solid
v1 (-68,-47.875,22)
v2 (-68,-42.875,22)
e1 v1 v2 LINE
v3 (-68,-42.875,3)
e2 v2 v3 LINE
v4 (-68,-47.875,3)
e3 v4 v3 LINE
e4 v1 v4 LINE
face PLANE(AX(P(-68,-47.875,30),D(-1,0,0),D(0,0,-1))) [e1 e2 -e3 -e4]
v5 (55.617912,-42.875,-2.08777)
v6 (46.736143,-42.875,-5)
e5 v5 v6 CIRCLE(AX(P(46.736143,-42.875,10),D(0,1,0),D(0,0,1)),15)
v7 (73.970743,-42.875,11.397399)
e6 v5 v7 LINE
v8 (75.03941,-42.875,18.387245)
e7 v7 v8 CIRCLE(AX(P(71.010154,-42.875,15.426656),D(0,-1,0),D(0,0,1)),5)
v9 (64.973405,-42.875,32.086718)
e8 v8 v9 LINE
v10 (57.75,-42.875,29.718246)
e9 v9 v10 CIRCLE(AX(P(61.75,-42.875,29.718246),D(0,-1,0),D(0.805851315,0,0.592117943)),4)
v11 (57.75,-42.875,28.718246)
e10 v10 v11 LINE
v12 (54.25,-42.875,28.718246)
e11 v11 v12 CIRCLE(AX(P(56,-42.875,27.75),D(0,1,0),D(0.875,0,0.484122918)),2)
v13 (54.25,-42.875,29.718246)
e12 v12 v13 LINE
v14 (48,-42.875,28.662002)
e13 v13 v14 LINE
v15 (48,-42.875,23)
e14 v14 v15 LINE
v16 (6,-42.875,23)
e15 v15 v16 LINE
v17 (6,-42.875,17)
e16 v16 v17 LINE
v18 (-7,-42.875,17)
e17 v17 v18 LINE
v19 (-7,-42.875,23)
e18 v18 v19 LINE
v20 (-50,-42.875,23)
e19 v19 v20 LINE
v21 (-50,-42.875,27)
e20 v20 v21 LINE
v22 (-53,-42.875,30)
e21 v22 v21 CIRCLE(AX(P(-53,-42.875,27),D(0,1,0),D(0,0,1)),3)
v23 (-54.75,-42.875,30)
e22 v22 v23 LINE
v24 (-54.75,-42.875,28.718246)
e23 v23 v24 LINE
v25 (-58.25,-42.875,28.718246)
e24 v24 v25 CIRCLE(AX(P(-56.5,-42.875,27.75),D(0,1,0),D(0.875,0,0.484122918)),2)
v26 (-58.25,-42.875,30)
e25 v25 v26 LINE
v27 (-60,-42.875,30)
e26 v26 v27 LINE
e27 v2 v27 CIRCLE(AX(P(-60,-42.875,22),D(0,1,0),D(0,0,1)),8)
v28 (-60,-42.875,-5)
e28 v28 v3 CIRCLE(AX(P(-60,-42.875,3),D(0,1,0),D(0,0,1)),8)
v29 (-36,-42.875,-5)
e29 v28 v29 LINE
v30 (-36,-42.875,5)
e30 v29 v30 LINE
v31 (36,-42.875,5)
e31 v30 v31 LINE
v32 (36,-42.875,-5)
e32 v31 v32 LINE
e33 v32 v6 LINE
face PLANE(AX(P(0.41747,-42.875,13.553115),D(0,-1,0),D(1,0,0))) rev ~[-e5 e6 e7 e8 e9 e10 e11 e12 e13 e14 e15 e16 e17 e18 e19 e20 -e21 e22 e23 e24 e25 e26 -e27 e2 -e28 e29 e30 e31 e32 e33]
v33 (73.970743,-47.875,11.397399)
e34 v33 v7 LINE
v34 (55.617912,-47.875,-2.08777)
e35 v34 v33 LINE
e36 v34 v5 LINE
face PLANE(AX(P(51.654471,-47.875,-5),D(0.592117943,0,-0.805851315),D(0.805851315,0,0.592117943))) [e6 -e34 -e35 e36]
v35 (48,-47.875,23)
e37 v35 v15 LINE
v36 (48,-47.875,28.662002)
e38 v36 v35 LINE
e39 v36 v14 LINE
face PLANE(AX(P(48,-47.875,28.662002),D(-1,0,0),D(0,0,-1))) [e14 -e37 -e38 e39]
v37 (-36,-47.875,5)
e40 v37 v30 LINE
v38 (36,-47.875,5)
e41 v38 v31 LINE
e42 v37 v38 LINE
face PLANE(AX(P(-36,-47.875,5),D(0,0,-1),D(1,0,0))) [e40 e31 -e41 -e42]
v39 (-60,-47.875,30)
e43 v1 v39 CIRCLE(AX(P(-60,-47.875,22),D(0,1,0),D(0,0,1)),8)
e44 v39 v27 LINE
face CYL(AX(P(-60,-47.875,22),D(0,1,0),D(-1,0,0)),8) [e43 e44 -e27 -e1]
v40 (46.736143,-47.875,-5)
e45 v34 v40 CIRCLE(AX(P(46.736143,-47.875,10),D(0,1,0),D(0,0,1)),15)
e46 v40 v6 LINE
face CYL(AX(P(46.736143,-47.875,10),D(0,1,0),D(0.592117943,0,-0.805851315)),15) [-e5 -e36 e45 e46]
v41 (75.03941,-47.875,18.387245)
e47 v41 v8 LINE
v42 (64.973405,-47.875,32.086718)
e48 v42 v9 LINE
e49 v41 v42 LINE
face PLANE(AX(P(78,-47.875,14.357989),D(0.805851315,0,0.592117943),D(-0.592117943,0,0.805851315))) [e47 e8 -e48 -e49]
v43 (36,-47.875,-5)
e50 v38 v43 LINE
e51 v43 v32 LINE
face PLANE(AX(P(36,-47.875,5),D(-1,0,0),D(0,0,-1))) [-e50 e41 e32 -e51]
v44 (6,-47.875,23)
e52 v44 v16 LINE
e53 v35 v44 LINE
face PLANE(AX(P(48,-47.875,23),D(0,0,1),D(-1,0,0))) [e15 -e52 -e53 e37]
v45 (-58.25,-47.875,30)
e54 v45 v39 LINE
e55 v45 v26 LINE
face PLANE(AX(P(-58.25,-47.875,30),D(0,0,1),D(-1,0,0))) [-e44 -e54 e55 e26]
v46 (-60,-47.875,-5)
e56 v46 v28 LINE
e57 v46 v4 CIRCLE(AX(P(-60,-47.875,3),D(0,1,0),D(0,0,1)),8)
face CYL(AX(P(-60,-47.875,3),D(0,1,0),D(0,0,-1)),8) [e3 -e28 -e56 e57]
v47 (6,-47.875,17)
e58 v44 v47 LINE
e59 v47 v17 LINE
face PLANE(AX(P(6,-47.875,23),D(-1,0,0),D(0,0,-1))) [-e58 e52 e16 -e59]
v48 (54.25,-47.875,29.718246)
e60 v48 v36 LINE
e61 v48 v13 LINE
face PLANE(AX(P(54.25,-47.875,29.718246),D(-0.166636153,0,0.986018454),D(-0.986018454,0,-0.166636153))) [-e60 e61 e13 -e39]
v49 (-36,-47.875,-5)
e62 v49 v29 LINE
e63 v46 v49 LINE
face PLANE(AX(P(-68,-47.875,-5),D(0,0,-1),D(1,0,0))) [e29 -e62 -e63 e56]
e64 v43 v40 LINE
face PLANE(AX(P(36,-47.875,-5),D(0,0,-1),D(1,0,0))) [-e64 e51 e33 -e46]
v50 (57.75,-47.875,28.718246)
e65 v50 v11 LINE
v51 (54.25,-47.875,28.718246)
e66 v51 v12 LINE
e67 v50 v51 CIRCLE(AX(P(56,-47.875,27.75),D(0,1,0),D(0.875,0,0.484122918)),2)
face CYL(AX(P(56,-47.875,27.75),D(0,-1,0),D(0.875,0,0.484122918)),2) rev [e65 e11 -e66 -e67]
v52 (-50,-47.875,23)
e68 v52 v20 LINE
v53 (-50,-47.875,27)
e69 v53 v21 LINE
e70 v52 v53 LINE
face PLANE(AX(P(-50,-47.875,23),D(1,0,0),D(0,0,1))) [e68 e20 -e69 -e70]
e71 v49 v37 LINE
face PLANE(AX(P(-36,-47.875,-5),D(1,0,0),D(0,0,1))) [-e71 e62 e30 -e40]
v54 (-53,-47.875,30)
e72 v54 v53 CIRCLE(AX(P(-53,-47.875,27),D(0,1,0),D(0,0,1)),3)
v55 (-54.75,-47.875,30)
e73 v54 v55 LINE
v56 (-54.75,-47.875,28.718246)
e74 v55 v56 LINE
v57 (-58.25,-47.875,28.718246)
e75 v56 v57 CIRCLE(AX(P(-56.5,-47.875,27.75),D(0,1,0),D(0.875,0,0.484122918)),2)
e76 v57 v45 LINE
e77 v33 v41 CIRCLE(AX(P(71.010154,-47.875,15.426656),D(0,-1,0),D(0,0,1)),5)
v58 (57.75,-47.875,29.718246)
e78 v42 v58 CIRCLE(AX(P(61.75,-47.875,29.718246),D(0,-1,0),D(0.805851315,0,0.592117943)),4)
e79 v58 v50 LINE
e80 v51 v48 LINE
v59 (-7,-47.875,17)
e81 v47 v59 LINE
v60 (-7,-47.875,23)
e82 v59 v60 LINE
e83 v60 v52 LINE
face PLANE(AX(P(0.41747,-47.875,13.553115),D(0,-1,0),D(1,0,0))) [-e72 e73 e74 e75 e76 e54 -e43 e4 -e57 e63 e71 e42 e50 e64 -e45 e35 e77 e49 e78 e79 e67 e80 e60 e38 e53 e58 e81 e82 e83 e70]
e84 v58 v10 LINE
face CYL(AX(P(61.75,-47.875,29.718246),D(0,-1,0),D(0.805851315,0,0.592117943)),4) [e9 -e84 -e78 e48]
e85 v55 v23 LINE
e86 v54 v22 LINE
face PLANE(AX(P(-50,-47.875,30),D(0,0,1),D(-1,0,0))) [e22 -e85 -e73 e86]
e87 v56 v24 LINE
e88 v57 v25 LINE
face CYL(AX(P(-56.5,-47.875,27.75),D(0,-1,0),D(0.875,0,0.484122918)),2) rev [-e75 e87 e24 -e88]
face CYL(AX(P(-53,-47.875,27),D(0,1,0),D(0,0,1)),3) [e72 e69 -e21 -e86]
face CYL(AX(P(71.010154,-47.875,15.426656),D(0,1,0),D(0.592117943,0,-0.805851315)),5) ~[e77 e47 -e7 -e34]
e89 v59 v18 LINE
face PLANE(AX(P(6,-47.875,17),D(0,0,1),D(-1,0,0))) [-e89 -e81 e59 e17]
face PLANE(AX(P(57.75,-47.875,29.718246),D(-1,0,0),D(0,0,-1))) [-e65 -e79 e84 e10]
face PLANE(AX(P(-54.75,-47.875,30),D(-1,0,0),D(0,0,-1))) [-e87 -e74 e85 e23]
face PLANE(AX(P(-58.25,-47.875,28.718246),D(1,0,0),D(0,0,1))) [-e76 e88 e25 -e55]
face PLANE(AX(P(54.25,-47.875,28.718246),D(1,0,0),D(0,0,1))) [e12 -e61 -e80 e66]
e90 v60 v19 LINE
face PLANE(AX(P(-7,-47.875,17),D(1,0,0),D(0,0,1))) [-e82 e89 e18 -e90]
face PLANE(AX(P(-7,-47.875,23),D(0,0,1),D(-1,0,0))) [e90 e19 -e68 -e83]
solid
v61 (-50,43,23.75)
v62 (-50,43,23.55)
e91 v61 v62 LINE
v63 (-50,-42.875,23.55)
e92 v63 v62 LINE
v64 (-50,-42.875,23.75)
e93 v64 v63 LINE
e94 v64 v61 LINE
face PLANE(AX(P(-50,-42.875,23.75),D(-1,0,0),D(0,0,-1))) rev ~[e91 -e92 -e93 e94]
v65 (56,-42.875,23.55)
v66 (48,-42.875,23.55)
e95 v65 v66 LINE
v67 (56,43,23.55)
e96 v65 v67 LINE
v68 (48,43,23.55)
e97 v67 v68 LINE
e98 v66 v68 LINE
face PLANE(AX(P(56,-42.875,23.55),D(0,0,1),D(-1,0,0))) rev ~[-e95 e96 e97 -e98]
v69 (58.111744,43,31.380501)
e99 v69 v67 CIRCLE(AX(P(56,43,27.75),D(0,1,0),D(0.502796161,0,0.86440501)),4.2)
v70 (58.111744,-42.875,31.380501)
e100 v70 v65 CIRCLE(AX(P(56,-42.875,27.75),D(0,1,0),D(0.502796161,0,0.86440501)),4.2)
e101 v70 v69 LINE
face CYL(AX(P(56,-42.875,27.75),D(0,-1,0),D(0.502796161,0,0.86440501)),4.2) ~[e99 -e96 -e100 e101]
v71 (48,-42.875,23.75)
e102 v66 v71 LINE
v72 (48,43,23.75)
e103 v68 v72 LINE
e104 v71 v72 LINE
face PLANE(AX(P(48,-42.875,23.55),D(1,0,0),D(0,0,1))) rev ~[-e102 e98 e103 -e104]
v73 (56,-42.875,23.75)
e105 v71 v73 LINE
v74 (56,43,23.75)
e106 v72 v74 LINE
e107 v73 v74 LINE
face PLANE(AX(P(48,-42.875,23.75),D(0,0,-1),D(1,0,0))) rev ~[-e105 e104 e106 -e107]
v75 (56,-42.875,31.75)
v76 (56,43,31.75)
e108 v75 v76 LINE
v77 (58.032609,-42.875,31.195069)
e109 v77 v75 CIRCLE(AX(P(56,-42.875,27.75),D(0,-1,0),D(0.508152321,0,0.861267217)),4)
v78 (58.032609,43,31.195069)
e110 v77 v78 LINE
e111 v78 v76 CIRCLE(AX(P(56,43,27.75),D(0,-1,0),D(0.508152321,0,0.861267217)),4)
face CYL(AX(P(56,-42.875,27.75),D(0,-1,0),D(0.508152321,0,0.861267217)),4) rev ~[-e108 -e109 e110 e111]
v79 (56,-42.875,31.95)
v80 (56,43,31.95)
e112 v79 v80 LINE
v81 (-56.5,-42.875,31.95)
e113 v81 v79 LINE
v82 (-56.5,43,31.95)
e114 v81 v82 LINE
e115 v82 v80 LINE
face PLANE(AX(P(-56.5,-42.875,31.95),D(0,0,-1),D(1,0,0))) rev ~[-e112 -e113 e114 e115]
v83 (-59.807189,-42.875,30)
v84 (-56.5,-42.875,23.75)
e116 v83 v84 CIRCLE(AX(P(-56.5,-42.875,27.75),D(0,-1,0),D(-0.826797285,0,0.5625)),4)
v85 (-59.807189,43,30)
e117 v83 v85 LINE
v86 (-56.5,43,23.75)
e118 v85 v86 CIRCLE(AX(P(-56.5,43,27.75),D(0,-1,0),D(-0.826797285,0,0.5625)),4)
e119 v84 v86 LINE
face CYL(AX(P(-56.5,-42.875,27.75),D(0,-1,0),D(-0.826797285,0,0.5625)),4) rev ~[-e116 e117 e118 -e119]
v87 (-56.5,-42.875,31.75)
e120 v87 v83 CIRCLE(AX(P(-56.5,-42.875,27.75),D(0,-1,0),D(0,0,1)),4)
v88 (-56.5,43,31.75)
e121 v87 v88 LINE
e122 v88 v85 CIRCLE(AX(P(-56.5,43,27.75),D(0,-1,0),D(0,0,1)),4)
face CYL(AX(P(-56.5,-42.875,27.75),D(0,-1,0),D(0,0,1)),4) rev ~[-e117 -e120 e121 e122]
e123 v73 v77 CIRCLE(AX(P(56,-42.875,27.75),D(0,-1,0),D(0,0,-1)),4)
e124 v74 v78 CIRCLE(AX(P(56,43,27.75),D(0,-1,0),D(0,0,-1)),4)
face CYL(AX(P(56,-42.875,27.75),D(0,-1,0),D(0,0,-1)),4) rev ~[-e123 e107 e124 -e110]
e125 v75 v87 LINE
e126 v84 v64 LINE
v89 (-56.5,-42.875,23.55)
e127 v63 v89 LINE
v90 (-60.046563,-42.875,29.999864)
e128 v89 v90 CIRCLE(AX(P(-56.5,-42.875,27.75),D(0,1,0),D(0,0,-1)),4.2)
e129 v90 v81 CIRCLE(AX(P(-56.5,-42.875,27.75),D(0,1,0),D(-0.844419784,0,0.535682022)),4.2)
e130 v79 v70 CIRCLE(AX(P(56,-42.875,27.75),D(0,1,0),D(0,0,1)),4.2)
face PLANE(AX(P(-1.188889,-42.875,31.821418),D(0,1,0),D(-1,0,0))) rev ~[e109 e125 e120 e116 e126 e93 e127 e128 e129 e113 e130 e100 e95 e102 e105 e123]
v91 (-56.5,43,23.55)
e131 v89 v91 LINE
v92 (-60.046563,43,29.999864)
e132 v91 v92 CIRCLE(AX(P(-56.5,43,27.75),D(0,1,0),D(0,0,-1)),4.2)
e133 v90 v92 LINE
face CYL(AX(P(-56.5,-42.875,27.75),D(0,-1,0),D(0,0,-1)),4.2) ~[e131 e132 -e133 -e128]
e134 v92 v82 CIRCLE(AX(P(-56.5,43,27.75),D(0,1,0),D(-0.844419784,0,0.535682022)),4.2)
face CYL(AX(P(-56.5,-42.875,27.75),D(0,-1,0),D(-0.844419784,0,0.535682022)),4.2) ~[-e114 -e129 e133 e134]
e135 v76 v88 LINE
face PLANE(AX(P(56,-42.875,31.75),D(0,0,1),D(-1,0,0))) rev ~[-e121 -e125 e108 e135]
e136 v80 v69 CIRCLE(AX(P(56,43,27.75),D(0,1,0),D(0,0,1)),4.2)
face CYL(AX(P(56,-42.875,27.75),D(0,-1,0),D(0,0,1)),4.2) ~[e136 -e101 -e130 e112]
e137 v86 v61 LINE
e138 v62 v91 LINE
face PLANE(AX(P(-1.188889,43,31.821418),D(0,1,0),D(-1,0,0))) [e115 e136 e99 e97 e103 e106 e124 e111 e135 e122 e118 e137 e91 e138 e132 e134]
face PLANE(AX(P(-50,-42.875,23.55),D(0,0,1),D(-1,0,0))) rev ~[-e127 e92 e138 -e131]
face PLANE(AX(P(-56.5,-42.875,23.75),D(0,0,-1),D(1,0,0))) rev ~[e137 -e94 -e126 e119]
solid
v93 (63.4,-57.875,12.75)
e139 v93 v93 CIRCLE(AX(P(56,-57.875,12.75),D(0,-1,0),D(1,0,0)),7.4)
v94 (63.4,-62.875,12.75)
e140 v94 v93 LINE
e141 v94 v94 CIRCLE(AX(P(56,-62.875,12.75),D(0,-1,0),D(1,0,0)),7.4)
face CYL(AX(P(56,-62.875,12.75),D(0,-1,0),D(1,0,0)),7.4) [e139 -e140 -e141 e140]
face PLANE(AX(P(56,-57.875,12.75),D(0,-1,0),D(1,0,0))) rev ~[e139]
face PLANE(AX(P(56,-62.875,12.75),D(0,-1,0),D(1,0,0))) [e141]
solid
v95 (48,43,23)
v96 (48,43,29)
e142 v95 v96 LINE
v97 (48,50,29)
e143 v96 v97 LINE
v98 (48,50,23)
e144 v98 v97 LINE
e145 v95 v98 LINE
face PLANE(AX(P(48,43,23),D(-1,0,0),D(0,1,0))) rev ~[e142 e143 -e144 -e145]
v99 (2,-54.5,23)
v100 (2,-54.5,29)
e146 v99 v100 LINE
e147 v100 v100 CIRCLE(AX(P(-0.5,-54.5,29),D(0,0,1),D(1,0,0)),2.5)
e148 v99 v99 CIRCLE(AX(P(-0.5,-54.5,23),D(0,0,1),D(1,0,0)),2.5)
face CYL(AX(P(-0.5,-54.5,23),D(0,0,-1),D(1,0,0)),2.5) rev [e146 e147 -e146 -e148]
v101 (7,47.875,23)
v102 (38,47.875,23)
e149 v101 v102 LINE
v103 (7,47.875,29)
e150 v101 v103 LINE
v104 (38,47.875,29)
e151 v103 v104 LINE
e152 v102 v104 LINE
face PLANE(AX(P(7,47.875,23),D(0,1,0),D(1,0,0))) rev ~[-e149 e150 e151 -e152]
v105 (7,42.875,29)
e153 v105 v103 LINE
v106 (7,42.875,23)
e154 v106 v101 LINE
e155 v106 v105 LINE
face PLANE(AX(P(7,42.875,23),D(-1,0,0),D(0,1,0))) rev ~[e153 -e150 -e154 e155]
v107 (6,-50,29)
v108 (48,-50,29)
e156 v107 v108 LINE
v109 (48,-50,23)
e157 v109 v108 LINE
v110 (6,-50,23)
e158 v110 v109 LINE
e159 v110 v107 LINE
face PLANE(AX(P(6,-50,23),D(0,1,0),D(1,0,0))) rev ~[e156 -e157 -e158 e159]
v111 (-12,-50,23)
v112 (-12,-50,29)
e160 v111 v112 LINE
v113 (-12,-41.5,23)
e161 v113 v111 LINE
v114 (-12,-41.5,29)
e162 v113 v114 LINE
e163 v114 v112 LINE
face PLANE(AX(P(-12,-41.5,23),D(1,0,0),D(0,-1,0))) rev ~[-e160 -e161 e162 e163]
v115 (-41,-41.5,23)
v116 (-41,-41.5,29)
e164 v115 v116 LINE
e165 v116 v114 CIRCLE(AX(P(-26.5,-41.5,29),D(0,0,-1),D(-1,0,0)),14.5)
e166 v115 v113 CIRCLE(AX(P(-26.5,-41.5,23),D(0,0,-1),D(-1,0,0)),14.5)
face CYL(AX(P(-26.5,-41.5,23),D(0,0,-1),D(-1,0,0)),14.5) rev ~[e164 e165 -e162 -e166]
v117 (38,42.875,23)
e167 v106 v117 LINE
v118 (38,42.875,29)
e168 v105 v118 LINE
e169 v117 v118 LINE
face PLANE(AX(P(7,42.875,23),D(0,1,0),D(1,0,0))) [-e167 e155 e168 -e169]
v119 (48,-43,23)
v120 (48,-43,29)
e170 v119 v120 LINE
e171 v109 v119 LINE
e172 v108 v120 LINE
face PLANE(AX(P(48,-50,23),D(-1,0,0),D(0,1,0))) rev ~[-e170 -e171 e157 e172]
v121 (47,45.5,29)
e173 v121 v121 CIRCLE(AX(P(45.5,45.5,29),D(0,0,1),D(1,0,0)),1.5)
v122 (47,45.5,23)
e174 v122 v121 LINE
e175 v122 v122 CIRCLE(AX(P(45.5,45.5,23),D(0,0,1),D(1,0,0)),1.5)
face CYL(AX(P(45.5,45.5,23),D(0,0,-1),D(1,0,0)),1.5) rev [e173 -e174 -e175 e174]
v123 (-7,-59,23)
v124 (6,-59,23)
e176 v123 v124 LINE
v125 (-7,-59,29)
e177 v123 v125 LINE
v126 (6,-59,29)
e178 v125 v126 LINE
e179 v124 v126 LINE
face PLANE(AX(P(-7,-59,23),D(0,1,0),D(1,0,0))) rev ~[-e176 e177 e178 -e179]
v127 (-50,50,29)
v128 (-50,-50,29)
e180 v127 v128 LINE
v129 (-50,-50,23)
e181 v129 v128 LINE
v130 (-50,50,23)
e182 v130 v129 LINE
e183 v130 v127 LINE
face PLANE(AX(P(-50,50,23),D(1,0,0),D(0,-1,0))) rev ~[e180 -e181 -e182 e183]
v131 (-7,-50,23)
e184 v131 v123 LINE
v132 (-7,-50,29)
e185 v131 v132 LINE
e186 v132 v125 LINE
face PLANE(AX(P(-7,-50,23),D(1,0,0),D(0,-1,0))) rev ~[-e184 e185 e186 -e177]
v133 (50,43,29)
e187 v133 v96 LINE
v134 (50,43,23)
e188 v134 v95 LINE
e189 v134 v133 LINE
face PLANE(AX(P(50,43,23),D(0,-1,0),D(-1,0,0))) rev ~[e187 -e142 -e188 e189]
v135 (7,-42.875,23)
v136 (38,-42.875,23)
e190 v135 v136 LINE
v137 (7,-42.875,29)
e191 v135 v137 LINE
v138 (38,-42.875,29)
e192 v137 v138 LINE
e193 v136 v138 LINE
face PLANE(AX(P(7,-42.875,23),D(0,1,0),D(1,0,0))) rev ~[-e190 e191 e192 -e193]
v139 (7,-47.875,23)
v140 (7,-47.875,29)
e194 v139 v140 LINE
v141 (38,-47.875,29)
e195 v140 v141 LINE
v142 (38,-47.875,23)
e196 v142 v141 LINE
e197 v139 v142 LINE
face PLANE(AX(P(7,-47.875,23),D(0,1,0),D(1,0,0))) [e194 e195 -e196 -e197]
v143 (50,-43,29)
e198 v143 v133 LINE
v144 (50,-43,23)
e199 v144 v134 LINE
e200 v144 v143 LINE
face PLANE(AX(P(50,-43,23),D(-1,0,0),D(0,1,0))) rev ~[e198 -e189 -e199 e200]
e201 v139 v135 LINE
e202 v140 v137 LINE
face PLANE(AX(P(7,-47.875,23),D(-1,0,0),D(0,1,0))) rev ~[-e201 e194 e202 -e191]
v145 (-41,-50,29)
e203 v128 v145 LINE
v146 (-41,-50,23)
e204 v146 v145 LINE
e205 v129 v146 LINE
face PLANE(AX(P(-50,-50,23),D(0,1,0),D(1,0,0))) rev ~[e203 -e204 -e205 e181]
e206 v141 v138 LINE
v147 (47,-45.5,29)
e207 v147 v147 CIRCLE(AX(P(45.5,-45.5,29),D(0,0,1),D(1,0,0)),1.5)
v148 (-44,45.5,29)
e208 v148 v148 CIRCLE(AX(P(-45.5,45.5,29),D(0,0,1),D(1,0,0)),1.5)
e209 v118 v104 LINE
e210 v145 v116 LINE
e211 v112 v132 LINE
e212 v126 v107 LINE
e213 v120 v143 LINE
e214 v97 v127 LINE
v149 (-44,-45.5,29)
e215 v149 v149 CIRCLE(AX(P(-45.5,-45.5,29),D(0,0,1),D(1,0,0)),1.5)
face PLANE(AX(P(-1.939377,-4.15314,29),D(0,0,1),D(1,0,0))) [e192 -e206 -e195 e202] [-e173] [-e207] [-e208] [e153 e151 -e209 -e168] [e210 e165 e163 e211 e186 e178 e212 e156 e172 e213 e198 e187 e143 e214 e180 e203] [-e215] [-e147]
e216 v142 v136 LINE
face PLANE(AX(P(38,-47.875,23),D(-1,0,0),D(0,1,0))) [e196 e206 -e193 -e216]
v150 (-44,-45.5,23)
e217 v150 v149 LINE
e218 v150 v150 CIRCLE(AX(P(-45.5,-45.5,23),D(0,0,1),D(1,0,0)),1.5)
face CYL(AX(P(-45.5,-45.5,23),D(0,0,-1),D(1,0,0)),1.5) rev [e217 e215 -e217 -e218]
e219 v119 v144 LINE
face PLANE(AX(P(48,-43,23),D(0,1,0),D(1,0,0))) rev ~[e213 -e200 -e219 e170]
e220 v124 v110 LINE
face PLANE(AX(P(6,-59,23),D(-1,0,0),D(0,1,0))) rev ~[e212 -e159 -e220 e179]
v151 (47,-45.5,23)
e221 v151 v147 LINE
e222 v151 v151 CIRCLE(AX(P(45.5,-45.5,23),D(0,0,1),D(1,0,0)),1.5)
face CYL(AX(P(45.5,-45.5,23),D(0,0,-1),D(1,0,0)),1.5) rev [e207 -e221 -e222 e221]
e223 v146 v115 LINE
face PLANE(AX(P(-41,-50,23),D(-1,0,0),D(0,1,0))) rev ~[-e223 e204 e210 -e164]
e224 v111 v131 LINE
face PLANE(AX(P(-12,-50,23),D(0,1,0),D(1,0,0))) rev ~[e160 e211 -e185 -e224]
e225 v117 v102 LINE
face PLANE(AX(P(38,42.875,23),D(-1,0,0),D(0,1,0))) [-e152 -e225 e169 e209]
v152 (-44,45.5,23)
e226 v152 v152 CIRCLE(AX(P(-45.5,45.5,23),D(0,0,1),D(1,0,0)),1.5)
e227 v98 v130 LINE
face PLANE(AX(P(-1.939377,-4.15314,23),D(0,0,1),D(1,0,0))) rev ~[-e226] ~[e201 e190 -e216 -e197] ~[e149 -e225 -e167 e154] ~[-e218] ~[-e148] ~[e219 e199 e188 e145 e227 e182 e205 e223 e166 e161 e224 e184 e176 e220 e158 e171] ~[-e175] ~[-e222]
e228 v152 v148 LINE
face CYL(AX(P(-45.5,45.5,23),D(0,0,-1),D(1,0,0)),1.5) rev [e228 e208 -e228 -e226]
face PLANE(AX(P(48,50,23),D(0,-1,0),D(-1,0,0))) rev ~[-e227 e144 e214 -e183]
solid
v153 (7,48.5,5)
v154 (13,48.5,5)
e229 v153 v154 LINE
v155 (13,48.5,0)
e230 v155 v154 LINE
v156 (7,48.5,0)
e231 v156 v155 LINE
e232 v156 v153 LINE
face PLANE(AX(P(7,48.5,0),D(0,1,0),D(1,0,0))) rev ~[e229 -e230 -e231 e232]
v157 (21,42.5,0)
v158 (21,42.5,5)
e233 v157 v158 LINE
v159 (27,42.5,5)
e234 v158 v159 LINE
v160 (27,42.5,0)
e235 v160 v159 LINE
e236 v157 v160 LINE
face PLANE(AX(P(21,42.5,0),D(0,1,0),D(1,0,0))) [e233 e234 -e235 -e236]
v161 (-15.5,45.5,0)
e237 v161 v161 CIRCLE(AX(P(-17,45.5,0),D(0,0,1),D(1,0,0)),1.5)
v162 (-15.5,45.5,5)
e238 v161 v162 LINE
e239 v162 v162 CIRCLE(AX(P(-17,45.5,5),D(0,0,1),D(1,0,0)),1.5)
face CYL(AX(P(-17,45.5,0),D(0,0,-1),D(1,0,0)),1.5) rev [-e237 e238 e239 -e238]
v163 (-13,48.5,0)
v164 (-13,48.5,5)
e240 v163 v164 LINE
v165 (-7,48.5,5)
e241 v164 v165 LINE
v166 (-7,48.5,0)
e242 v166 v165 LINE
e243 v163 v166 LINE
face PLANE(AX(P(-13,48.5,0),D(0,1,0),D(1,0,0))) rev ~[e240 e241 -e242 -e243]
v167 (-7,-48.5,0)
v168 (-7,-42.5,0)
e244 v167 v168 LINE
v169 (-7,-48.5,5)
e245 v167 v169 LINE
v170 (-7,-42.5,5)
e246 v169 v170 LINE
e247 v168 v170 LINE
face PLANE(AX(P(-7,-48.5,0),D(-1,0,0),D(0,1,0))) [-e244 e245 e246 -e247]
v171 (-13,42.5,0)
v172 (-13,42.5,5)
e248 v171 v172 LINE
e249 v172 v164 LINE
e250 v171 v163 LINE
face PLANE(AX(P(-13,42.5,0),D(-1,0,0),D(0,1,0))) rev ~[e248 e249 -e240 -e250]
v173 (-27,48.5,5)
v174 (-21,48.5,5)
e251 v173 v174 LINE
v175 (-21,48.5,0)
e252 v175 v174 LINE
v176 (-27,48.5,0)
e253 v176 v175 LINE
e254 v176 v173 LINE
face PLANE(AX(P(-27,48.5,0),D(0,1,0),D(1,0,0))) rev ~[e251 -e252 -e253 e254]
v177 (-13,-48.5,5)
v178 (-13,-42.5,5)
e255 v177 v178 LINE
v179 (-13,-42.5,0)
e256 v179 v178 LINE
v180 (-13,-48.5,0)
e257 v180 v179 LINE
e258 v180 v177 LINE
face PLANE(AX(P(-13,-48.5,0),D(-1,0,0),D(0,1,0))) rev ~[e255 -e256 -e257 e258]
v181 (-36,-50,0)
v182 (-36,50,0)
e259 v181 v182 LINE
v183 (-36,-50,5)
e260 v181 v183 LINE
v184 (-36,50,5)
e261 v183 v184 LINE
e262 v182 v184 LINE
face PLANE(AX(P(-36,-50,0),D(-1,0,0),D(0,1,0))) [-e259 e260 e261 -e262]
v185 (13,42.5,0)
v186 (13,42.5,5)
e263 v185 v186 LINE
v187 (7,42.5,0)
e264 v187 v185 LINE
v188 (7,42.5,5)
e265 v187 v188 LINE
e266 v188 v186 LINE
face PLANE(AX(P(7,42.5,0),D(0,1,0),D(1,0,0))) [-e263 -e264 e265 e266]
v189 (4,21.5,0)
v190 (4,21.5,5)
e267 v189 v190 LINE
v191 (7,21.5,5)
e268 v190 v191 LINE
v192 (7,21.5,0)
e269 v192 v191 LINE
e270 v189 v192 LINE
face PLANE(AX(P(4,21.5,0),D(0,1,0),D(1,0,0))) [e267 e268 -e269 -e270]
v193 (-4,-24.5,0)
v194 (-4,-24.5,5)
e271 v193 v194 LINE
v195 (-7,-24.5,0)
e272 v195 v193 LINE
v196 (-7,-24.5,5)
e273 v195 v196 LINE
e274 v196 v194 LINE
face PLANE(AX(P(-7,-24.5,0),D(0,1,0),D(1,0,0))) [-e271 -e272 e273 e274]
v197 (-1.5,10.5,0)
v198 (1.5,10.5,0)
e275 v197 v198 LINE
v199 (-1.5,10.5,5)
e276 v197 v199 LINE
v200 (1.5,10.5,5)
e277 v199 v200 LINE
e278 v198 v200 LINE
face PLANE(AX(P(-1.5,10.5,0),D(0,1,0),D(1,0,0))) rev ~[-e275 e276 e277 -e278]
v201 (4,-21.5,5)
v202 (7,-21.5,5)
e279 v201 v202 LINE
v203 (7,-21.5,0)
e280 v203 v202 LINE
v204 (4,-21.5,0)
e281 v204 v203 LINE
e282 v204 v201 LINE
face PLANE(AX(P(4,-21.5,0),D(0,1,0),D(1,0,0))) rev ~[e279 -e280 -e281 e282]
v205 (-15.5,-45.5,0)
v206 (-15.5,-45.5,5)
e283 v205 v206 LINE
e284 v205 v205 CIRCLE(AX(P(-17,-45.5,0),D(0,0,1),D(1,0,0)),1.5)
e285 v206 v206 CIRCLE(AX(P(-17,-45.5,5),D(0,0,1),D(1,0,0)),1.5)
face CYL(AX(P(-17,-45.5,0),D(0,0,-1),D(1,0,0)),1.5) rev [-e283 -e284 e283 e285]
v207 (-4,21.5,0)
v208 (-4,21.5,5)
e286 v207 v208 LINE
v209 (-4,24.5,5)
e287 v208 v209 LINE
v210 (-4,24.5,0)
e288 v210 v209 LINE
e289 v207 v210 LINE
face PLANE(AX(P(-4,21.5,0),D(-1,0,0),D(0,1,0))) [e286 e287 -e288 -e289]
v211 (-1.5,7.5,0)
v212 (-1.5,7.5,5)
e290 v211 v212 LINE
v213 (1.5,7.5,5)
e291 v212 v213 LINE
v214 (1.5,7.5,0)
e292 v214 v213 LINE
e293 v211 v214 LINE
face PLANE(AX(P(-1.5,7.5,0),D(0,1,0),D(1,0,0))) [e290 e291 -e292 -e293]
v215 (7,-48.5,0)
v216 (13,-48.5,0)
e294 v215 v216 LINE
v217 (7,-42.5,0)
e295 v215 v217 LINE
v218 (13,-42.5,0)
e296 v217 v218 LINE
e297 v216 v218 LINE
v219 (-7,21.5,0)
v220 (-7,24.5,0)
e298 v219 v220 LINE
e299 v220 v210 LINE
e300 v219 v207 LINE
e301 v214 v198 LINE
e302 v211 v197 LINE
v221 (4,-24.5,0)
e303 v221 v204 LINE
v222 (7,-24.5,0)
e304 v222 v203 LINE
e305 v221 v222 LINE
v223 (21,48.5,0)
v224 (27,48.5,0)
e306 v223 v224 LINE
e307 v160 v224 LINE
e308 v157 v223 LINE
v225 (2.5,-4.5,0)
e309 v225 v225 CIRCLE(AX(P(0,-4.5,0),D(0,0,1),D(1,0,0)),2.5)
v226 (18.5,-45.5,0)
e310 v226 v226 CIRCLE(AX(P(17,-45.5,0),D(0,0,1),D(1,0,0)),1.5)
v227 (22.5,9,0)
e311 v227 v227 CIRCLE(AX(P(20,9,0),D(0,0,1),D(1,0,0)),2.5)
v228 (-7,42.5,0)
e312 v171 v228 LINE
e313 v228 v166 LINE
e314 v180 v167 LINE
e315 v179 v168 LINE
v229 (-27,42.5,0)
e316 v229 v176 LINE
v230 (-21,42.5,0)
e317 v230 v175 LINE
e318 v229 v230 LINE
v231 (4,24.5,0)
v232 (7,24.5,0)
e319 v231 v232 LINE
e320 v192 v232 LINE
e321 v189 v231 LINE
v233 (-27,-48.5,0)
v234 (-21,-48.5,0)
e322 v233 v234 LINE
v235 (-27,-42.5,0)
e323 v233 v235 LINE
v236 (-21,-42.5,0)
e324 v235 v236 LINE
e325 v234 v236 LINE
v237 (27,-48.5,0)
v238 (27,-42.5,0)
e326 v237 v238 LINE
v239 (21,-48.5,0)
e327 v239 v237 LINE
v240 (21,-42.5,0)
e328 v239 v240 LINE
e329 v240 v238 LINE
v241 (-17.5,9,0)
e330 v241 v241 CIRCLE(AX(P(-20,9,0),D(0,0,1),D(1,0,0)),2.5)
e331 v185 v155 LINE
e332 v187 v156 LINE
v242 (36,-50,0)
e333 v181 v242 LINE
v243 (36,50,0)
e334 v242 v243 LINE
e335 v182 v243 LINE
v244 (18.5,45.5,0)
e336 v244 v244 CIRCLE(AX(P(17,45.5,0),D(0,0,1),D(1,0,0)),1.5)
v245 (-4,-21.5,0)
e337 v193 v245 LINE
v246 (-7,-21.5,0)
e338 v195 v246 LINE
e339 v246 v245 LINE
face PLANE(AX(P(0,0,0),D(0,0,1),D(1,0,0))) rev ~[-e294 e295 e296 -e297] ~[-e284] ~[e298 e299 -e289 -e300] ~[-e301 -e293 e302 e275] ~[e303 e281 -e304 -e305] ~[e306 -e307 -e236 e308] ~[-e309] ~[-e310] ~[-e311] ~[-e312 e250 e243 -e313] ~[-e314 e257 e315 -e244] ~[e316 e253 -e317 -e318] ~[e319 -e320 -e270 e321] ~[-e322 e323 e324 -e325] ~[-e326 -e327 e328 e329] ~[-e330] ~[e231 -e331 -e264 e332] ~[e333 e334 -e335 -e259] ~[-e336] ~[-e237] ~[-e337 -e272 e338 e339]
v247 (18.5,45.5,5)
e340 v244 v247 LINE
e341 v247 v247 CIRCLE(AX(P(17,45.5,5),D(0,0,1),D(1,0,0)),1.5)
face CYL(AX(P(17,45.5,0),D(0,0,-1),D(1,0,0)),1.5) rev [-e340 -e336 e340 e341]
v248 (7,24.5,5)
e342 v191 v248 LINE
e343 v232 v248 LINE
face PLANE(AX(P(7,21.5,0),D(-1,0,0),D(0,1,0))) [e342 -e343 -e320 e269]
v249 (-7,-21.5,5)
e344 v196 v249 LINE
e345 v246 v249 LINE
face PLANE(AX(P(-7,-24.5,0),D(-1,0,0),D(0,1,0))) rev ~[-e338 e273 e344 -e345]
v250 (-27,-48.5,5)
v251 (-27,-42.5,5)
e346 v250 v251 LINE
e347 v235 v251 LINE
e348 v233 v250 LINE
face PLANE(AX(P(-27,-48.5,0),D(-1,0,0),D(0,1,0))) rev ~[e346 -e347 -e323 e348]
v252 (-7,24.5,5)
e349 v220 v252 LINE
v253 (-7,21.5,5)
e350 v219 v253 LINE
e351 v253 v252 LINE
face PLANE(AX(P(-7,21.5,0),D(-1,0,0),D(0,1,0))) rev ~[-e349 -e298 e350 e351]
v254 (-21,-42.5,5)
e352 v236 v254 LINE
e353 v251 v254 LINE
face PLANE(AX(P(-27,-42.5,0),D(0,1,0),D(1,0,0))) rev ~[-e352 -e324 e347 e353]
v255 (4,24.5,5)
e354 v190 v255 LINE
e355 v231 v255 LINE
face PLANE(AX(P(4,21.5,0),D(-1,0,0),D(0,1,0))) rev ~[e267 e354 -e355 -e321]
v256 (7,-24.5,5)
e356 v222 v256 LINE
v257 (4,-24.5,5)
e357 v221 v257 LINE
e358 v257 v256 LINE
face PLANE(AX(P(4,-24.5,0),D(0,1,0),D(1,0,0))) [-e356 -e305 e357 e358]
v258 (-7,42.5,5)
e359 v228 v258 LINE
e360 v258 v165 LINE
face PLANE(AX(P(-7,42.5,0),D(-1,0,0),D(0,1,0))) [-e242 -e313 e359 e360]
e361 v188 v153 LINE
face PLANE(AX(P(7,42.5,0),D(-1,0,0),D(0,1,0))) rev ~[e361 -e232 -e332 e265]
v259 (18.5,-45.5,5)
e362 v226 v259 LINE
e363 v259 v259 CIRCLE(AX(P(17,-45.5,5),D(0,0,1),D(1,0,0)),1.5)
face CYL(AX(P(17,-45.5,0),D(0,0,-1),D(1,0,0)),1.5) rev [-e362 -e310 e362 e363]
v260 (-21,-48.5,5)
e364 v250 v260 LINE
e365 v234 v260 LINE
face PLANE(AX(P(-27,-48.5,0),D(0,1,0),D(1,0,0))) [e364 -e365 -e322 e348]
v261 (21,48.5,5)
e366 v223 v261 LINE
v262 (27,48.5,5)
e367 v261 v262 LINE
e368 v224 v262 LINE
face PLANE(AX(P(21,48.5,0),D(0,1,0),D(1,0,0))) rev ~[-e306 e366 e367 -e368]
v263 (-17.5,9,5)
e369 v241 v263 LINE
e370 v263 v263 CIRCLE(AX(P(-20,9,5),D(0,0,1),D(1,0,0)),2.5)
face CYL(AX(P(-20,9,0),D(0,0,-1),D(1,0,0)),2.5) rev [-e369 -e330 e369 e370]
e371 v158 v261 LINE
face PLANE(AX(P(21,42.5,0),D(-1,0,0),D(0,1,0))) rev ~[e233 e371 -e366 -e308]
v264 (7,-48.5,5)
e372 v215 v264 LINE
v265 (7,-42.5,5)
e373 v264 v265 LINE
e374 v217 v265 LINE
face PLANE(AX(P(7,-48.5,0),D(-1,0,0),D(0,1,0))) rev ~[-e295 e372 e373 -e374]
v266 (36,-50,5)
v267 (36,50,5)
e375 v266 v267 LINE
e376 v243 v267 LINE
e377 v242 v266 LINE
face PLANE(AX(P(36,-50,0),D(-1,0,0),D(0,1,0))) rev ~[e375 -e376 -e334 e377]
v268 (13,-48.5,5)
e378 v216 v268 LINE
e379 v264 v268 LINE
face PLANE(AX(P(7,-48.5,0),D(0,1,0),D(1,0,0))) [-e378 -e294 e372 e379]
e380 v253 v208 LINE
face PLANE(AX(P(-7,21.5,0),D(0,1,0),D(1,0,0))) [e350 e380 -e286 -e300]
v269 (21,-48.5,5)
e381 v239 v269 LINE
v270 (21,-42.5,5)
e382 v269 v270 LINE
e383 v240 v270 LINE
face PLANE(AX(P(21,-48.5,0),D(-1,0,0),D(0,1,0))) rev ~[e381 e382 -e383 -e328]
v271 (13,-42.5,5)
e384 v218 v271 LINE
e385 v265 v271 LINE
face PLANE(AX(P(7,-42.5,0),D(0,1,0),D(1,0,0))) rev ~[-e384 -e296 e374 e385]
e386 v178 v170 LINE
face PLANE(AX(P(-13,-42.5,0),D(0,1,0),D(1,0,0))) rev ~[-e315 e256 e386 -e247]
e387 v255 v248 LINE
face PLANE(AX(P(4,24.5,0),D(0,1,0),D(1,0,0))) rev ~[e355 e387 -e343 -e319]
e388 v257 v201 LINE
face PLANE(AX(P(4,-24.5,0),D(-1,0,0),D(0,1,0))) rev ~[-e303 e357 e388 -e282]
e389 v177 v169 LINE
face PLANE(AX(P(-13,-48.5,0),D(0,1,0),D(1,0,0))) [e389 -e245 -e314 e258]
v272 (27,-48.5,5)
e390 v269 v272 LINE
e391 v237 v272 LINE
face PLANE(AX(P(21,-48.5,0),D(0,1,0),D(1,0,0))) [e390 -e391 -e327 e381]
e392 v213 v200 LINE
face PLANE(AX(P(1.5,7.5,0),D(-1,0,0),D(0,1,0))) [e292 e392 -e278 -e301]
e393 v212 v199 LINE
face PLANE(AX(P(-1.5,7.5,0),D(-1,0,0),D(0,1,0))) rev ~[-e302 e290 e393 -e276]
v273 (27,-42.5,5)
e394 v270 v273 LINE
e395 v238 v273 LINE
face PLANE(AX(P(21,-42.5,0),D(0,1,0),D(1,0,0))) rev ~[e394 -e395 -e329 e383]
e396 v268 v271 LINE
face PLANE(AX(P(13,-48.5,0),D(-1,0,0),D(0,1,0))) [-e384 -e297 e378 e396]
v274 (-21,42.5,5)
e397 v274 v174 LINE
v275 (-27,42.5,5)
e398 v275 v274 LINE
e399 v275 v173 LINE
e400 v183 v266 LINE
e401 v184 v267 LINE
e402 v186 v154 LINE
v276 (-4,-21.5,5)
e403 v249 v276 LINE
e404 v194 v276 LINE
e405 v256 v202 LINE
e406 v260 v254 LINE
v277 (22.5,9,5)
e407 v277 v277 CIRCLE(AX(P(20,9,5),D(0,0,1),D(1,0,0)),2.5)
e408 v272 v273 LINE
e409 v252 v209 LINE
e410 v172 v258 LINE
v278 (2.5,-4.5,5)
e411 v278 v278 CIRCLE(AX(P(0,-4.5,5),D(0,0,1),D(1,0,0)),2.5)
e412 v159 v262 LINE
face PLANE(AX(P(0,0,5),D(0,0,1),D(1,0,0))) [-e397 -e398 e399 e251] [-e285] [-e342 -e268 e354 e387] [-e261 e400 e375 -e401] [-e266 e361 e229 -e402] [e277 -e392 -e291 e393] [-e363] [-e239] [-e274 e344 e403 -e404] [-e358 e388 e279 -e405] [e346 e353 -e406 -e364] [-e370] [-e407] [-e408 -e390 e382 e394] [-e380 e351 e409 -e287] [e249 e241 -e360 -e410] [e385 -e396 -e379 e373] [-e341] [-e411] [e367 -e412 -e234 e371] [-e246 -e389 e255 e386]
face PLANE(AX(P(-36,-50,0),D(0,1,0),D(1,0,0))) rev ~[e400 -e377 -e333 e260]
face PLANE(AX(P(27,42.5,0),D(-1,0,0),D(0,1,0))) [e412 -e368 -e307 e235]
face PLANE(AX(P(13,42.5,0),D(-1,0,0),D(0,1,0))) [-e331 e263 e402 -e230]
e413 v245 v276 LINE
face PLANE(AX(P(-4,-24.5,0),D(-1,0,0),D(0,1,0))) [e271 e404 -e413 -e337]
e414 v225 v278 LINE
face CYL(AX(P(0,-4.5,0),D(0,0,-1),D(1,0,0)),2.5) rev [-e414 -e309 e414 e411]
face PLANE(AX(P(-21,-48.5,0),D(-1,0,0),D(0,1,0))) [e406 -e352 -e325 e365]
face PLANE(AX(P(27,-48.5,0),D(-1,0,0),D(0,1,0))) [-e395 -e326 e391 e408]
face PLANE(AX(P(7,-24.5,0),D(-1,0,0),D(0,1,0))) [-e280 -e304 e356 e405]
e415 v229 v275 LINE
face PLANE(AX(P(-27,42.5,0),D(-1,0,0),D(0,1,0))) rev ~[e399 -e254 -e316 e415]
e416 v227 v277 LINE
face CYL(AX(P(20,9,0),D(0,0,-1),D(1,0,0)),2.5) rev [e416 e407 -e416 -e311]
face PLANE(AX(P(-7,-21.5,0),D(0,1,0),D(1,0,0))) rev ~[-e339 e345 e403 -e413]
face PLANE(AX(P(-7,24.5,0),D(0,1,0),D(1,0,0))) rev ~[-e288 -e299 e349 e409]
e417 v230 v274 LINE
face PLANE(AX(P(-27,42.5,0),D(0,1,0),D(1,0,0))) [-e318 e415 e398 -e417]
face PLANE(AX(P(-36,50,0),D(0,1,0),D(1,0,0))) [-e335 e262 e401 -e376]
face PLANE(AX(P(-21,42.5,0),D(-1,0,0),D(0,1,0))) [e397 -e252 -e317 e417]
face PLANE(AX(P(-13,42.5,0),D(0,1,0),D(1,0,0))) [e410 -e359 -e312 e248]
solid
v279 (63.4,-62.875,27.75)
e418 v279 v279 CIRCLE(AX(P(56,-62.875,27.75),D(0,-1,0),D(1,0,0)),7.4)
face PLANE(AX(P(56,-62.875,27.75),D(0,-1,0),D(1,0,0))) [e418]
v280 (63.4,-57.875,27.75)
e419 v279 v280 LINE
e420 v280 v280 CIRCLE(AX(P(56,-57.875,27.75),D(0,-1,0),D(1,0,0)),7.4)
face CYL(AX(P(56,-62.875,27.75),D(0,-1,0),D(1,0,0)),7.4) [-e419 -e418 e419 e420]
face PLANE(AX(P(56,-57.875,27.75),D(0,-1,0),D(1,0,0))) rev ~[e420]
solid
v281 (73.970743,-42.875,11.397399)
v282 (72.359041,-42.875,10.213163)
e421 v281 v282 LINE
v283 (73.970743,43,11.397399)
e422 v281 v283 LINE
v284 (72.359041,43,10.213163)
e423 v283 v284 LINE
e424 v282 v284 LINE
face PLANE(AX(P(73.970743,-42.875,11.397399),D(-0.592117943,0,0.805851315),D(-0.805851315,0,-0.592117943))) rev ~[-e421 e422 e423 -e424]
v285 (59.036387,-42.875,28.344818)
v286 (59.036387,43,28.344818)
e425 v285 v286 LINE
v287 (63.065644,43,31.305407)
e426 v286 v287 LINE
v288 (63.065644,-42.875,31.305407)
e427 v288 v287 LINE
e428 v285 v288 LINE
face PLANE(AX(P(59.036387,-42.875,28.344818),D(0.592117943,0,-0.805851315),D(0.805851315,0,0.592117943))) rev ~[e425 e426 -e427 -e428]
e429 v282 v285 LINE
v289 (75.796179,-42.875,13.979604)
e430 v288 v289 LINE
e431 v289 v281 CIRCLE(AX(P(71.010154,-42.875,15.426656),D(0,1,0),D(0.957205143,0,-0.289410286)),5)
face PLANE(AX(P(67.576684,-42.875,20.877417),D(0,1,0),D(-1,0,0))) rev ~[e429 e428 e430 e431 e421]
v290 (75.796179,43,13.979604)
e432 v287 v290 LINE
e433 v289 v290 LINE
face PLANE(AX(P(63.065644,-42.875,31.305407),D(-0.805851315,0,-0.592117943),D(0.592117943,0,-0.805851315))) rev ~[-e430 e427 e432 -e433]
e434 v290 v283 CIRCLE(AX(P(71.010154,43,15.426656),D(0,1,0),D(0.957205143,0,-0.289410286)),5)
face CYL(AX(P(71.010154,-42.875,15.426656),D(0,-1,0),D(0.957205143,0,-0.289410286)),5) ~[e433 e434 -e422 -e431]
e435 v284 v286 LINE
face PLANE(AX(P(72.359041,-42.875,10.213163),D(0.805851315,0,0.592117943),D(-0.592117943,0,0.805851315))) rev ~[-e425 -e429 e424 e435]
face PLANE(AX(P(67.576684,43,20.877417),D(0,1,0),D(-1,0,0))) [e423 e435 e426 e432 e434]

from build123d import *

# Parameters (mm, degrees)
F0_W      = 72
F0_H      = 100
F0_W_2    = 6
F0_H_2    = 6
F0_R      = 1.5
F0_W_3    = 3
F0_H_3    = 3
F0_R_2    = 2.5
F1_DEPTH  = 5
F3_R      = 1.5
F3_R_2    = 2.5
F3_W      = 31
F3_H      = 5
F4_DEPTH  = 6
F7_DEPTH  = 5
F8_R      = 5
F9_R      = 15
F10_R     = 8
F11_R     = 3
F13_DEPTH = 85.875
F15_DEPTH = 85.875
F17_R     = 7.4
F18_DEPTH = 5


with BuildPart() as f1:
    # F0 (on Top) → F1 (new body)
    with BuildSketch(Plane.XY):
        Rectangle(F0_W, F0_H)
        with Locations((-24, -45.5)):
            Rectangle(F0_W_2, F0_H_2, mode=Mode.SUBTRACT)
        with Locations((-17, -45.5)):
            Circle(F0_R, mode=Mode.SUBTRACT)
        with Locations((-10, -45.5)):
            Rectangle(F0_W_2, F0_H_2, mode=Mode.SUBTRACT)
        with Locations((-5.5, -23)):
            Rectangle(F0_W_3, F0_H_3, mode=Mode.SUBTRACT)
        with Locations((10, -45.5)):
            Rectangle(F0_W_2, F0_H_2, mode=Mode.SUBTRACT)
        with Locations((17, -45.5)):
            Circle(F0_R, mode=Mode.SUBTRACT)
        with Locations((24, -45.5)):
            Rectangle(F0_W_2, F0_H_2, mode=Mode.SUBTRACT)
        with Locations((5.5, -23)):
            Rectangle(F0_W_3, F0_H_3, mode=Mode.SUBTRACT)
        with Locations((0, -4.5)):
            Circle(F0_R_2, mode=Mode.SUBTRACT)
        with Locations((-20, 9)):
            Circle(F0_R_2, mode=Mode.SUBTRACT)
        with Locations((-5.5, 23)):
            Rectangle(F0_W_3, F0_H_3, mode=Mode.SUBTRACT)
        with Locations((-24, 45.5)):
            Rectangle(F0_W_2, F0_H_2, mode=Mode.SUBTRACT)
        with Locations((-17, 45.5)):
            Circle(F0_R, mode=Mode.SUBTRACT)
        with Locations((-10, 45.5)):
            Rectangle(F0_W_2, F0_H_2, mode=Mode.SUBTRACT)
        with Locations((0, 9)):
            Rectangle(F0_W_3, F0_H_3, mode=Mode.SUBTRACT)
        with Locations((5.5, 23)):
            Rectangle(F0_W_3, F0_H_3, mode=Mode.SUBTRACT)
        with Locations((20, 9)):
            Circle(F0_R_2, mode=Mode.SUBTRACT)
        with Locations((10, 45.5)):
            Rectangle(F0_W_2, F0_H_2, mode=Mode.SUBTRACT)
        with Locations((17, 45.5)):
            Circle(F0_R, mode=Mode.SUBTRACT)
        with Locations((24, 45.5)):
            Rectangle(F0_W_2, F0_H_2, mode=Mode.SUBTRACT)
    extrude(amount=F1_DEPTH)


with BuildPart() as f4:
    # F3 (on offset) → F4 (new body)
    with BuildSketch(Plane.XY.offset(23)):
        with BuildLine():
            Line((-50, 50), (-50, -50))
            Line((-50, -50), (-41, -50))
            Line((-41, -50), (-41, -41.5))
            ThreePointArc((-41, -41.5), (-26.5, -27), (-12, -41.5))
            Line((-12, -41.5), (-12, -50))
            Line((-12, -50), (-7, -50))
            Line((-7, -50), (-7, -59))
            Line((-7, -59), (6, -59))
            Line((6, -59), (6, -50))
            Line((6, -50), (48, -50))
            Line((48, -50), (48, -43))
            Line((48, -43), (50, -43))
            Line((50, -43), (50, 43))
            Line((50, 43), (48, 43))
            Line((48, 43), (48, 50))
            Line((48, 50), (-50, 50))
        make_face()
        with Locations((-45.5, -45.5)):
            Circle(F3_R, mode=Mode.SUBTRACT)
        with Locations((-0.5, -54.5)):
            Circle(F3_R_2, mode=Mode.SUBTRACT)
        with Locations((22.5, -45.375)):
            Rectangle(F3_W, F3_H, mode=Mode.SUBTRACT)
        with Locations((45.5, -45.5)):
            Circle(F3_R, mode=Mode.SUBTRACT)
        with Locations((-45.5, 45.5)):
            Circle(F3_R, mode=Mode.SUBTRACT)
        with Locations((22.5, 45.375)):
            Rectangle(F3_W, F3_H, mode=Mode.SUBTRACT)
        with Locations((45.5, 45.5)):
            Circle(F3_R, mode=Mode.SUBTRACT)
    extrude(amount=F4_DEPTH)


with BuildPart() as f7:
    # F6 (on plane+point) → F7 (new body)
    with BuildSketch(Plane.XZ.offset(47.875)):
        with BuildLine():
            Line((36, 5), (36, -5))
            Line((36, -5), (51.6544706622, -5))
            Line((51.6544706622, -5), (78, 14.3579886772))
            Line((78, 14.3579886772), (64.97340526, 32.0867176075))
            ThreePointArc((64.97340526, 32.0867176075), (60.5037297725, 33.519141852), (57.75, 29.7182458366))
            Line((57.75, 29.7182458366), (57.75, 28.7182458366))
            ThreePointArc((57.75, 28.7182458366), (56, 25.75), (54.25, 28.7182458366))
            Line((54.25, 28.7182458366), (54.25, 29.7182458366))
            Line((54.25, 29.7182458366), (48, 28.6620019593))
            Line((48, 28.6620019593), (48, 23))
            Line((48, 23), (6, 23))
            Line((6, 23), (6, 17))
            Line((6, 17), (-7, 17))
            Line((-7, 17), (-7, 23))
            Line((-7, 23), (-50, 23))
            Line((-50, 23), (-50, 30))
            Line((-50, 30), (-54.75, 30))
            Line((-54.75, 30), (-54.75, 28.7182458366))
            ThreePointArc((-54.75, 28.7182458366), (-56.5, 25.75), (-58.25, 28.7182458366))
            Line((-58.25, 28.7182458366), (-58.25, 30))
            Line((-58.25, 30), (-68, 30))
            Line((-68, 30), (-68, -5))
            Line((-68, -5), (-36, -5))
            Line((-36, -5), (-36, 5))
            Line((-36, 5), (36, 5))
        make_face()
    extrude(amount=-F7_DEPTH)

    # F8
    f8_edges = [f7.edges().sort_by_distance(p)[0] for p in [
        (78, -45.375, 14.357989),
    ]]
    fillet(f8_edges, radius=F8_R)

    # F9
    f9_edges = [f7.edges().sort_by_distance(p)[0] for p in [
        (51.654471, -45.375, -5),
    ]]
    fillet(f9_edges, radius=F9_R)

    # F10
    f10_edges = [f7.edges().sort_by_distance(p)[0] for p in [
        (-68, -45.375, -5),
        (-68, -45.375, 30),
    ]]
    fillet(f10_edges, radius=F10_R)

    # F11
    f11_edges = [f7.edges().sort_by_distance(p)[0] for p in [
        (-50, -45.375, 30),
    ]]
    fillet(f11_edges, radius=F11_R)


with BuildPart() as f13:
    # F12 (on face) → F13 (new body, through all)
    with BuildSketch(Plane(origin=(0, -42.875, 0), x_dir=(-1, 0, 0), z_dir=(0, 1, 0))):
        with BuildLine():
            Line((-63.0656436587, 31.3054073795), (-75.7961794273, 13.9796041068))
            ThreePointArc((-75.7961794273, 13.9796041068), (-75.0929785305, 12.5403877936), (-73.970743425, 11.3973989636))
            Line((-73.970743425, 11.3973989636), (-72.3590407949, 10.2131630782))
            Line((-72.3590407949, 10.2131630782), (-59.0363870836, 28.3448176659))
            Line((-59.0363870836, 28.3448176659), (-63.0656436587, 31.3054073795))
        make_face()
    extrude(amount=F13_DEPTH)


with BuildPart() as f15:
    # F14 (on face) → F15 (new body, through all)
    with BuildSketch(Plane(origin=(0, -42.875, 0), x_dir=(-1, 0, 0), z_dir=(0, 1, 0))):
        with BuildLine():
            ThreePointArc((-58.0326092839, 31.1950688671), (-57.0535000075, 31.6087741232), (-56, 31.75))
            Line((-56, 31.75), (56.5, 31.75))
            ThreePointArc((56.5, 31.75), (58.3708286934, 31.2855339059), (59.8071891388, 30))
            Line((59.8071891388, 30), (60, 30))
            ThreePointArc((60, 30), (60.023281645, 29.9999661227), (60.0465630928, 29.9998644913))
            ThreePointArc((60.0465630928, 29.9998644913), (58.5236809453, 31.4303145832), (56.5, 31.95))
            Line((56.5, 31.95), (-56, 31.95))
            ThreePointArc((-56, 31.95), (-57.0935939895, 31.8051266548), (-58.1117438744, 31.380501041))
            ThreePointArc((-58.1117438744, 31.380501041), (-58.0710081017, 31.2882836107), (-58.0326092839, 31.1950688671))
        make_face()
        with BuildLine():
            Line((60, 30), (59.8071891388, 30))
            ThreePointArc((59.8071891388, 30), (60.0355339059, 25.8791713066), (56.5, 23.75))
            Line((56.5, 23.75), (50, 23.75))
            Line((50, 23.75), (50, 23.55))
            Line((50, 23.55), (56.5, 23.55))
            ThreePointArc((56.5, 23.55), (60.1803145832, 25.7263190547), (60.0465630928, 29.9998644913))
            ThreePointArc((60.0465630928, 29.9998644913), (60.023281645, 29.9999661227), (60, 30))
        make_face()
        with BuildLine():
            ThreePointArc((-56, 23.75), (-59.8587741232, 26.6964999925), (-58.0326092839, 31.1950688671))
            ThreePointArc((-58.0326092839, 31.1950688671), (-58.0710081017, 31.2882836107), (-58.1117438744, 31.380501041))
            ThreePointArc((-58.1117438744, 31.380501041), (-60.0551266548, 26.6564060105), (-56, 23.55))
            Line((-56, 23.55), (-48, 23.55))
            Line((-48, 23.55), (-48, 23.75))
            Line((-48, 23.75), (-56, 23.75))
        make_face()
    extrude(amount=F15_DEPTH)


with BuildPart() as f18:
    # F17 (on offset) → F18 (new body)
    with BuildSketch(Plane.XZ.offset(62.875)):
        with Locations((56, 27.75)):
            Circle(F17_R)
    extrude(amount=-F18_DEPTH)


with BuildPart() as f18b:
    # F17 (on offset) → F18, piece 2 (new body)
    with BuildSketch(Plane.XZ.offset(62.875)):
        with Locations((56, 12.75)):
            Circle(F17_R)
    extrude(amount=-F18_DEPTH)


solid = Compound([f1.part, f4.part, f7.part, f13.part, f15.part, f18.part, f18b.part])
